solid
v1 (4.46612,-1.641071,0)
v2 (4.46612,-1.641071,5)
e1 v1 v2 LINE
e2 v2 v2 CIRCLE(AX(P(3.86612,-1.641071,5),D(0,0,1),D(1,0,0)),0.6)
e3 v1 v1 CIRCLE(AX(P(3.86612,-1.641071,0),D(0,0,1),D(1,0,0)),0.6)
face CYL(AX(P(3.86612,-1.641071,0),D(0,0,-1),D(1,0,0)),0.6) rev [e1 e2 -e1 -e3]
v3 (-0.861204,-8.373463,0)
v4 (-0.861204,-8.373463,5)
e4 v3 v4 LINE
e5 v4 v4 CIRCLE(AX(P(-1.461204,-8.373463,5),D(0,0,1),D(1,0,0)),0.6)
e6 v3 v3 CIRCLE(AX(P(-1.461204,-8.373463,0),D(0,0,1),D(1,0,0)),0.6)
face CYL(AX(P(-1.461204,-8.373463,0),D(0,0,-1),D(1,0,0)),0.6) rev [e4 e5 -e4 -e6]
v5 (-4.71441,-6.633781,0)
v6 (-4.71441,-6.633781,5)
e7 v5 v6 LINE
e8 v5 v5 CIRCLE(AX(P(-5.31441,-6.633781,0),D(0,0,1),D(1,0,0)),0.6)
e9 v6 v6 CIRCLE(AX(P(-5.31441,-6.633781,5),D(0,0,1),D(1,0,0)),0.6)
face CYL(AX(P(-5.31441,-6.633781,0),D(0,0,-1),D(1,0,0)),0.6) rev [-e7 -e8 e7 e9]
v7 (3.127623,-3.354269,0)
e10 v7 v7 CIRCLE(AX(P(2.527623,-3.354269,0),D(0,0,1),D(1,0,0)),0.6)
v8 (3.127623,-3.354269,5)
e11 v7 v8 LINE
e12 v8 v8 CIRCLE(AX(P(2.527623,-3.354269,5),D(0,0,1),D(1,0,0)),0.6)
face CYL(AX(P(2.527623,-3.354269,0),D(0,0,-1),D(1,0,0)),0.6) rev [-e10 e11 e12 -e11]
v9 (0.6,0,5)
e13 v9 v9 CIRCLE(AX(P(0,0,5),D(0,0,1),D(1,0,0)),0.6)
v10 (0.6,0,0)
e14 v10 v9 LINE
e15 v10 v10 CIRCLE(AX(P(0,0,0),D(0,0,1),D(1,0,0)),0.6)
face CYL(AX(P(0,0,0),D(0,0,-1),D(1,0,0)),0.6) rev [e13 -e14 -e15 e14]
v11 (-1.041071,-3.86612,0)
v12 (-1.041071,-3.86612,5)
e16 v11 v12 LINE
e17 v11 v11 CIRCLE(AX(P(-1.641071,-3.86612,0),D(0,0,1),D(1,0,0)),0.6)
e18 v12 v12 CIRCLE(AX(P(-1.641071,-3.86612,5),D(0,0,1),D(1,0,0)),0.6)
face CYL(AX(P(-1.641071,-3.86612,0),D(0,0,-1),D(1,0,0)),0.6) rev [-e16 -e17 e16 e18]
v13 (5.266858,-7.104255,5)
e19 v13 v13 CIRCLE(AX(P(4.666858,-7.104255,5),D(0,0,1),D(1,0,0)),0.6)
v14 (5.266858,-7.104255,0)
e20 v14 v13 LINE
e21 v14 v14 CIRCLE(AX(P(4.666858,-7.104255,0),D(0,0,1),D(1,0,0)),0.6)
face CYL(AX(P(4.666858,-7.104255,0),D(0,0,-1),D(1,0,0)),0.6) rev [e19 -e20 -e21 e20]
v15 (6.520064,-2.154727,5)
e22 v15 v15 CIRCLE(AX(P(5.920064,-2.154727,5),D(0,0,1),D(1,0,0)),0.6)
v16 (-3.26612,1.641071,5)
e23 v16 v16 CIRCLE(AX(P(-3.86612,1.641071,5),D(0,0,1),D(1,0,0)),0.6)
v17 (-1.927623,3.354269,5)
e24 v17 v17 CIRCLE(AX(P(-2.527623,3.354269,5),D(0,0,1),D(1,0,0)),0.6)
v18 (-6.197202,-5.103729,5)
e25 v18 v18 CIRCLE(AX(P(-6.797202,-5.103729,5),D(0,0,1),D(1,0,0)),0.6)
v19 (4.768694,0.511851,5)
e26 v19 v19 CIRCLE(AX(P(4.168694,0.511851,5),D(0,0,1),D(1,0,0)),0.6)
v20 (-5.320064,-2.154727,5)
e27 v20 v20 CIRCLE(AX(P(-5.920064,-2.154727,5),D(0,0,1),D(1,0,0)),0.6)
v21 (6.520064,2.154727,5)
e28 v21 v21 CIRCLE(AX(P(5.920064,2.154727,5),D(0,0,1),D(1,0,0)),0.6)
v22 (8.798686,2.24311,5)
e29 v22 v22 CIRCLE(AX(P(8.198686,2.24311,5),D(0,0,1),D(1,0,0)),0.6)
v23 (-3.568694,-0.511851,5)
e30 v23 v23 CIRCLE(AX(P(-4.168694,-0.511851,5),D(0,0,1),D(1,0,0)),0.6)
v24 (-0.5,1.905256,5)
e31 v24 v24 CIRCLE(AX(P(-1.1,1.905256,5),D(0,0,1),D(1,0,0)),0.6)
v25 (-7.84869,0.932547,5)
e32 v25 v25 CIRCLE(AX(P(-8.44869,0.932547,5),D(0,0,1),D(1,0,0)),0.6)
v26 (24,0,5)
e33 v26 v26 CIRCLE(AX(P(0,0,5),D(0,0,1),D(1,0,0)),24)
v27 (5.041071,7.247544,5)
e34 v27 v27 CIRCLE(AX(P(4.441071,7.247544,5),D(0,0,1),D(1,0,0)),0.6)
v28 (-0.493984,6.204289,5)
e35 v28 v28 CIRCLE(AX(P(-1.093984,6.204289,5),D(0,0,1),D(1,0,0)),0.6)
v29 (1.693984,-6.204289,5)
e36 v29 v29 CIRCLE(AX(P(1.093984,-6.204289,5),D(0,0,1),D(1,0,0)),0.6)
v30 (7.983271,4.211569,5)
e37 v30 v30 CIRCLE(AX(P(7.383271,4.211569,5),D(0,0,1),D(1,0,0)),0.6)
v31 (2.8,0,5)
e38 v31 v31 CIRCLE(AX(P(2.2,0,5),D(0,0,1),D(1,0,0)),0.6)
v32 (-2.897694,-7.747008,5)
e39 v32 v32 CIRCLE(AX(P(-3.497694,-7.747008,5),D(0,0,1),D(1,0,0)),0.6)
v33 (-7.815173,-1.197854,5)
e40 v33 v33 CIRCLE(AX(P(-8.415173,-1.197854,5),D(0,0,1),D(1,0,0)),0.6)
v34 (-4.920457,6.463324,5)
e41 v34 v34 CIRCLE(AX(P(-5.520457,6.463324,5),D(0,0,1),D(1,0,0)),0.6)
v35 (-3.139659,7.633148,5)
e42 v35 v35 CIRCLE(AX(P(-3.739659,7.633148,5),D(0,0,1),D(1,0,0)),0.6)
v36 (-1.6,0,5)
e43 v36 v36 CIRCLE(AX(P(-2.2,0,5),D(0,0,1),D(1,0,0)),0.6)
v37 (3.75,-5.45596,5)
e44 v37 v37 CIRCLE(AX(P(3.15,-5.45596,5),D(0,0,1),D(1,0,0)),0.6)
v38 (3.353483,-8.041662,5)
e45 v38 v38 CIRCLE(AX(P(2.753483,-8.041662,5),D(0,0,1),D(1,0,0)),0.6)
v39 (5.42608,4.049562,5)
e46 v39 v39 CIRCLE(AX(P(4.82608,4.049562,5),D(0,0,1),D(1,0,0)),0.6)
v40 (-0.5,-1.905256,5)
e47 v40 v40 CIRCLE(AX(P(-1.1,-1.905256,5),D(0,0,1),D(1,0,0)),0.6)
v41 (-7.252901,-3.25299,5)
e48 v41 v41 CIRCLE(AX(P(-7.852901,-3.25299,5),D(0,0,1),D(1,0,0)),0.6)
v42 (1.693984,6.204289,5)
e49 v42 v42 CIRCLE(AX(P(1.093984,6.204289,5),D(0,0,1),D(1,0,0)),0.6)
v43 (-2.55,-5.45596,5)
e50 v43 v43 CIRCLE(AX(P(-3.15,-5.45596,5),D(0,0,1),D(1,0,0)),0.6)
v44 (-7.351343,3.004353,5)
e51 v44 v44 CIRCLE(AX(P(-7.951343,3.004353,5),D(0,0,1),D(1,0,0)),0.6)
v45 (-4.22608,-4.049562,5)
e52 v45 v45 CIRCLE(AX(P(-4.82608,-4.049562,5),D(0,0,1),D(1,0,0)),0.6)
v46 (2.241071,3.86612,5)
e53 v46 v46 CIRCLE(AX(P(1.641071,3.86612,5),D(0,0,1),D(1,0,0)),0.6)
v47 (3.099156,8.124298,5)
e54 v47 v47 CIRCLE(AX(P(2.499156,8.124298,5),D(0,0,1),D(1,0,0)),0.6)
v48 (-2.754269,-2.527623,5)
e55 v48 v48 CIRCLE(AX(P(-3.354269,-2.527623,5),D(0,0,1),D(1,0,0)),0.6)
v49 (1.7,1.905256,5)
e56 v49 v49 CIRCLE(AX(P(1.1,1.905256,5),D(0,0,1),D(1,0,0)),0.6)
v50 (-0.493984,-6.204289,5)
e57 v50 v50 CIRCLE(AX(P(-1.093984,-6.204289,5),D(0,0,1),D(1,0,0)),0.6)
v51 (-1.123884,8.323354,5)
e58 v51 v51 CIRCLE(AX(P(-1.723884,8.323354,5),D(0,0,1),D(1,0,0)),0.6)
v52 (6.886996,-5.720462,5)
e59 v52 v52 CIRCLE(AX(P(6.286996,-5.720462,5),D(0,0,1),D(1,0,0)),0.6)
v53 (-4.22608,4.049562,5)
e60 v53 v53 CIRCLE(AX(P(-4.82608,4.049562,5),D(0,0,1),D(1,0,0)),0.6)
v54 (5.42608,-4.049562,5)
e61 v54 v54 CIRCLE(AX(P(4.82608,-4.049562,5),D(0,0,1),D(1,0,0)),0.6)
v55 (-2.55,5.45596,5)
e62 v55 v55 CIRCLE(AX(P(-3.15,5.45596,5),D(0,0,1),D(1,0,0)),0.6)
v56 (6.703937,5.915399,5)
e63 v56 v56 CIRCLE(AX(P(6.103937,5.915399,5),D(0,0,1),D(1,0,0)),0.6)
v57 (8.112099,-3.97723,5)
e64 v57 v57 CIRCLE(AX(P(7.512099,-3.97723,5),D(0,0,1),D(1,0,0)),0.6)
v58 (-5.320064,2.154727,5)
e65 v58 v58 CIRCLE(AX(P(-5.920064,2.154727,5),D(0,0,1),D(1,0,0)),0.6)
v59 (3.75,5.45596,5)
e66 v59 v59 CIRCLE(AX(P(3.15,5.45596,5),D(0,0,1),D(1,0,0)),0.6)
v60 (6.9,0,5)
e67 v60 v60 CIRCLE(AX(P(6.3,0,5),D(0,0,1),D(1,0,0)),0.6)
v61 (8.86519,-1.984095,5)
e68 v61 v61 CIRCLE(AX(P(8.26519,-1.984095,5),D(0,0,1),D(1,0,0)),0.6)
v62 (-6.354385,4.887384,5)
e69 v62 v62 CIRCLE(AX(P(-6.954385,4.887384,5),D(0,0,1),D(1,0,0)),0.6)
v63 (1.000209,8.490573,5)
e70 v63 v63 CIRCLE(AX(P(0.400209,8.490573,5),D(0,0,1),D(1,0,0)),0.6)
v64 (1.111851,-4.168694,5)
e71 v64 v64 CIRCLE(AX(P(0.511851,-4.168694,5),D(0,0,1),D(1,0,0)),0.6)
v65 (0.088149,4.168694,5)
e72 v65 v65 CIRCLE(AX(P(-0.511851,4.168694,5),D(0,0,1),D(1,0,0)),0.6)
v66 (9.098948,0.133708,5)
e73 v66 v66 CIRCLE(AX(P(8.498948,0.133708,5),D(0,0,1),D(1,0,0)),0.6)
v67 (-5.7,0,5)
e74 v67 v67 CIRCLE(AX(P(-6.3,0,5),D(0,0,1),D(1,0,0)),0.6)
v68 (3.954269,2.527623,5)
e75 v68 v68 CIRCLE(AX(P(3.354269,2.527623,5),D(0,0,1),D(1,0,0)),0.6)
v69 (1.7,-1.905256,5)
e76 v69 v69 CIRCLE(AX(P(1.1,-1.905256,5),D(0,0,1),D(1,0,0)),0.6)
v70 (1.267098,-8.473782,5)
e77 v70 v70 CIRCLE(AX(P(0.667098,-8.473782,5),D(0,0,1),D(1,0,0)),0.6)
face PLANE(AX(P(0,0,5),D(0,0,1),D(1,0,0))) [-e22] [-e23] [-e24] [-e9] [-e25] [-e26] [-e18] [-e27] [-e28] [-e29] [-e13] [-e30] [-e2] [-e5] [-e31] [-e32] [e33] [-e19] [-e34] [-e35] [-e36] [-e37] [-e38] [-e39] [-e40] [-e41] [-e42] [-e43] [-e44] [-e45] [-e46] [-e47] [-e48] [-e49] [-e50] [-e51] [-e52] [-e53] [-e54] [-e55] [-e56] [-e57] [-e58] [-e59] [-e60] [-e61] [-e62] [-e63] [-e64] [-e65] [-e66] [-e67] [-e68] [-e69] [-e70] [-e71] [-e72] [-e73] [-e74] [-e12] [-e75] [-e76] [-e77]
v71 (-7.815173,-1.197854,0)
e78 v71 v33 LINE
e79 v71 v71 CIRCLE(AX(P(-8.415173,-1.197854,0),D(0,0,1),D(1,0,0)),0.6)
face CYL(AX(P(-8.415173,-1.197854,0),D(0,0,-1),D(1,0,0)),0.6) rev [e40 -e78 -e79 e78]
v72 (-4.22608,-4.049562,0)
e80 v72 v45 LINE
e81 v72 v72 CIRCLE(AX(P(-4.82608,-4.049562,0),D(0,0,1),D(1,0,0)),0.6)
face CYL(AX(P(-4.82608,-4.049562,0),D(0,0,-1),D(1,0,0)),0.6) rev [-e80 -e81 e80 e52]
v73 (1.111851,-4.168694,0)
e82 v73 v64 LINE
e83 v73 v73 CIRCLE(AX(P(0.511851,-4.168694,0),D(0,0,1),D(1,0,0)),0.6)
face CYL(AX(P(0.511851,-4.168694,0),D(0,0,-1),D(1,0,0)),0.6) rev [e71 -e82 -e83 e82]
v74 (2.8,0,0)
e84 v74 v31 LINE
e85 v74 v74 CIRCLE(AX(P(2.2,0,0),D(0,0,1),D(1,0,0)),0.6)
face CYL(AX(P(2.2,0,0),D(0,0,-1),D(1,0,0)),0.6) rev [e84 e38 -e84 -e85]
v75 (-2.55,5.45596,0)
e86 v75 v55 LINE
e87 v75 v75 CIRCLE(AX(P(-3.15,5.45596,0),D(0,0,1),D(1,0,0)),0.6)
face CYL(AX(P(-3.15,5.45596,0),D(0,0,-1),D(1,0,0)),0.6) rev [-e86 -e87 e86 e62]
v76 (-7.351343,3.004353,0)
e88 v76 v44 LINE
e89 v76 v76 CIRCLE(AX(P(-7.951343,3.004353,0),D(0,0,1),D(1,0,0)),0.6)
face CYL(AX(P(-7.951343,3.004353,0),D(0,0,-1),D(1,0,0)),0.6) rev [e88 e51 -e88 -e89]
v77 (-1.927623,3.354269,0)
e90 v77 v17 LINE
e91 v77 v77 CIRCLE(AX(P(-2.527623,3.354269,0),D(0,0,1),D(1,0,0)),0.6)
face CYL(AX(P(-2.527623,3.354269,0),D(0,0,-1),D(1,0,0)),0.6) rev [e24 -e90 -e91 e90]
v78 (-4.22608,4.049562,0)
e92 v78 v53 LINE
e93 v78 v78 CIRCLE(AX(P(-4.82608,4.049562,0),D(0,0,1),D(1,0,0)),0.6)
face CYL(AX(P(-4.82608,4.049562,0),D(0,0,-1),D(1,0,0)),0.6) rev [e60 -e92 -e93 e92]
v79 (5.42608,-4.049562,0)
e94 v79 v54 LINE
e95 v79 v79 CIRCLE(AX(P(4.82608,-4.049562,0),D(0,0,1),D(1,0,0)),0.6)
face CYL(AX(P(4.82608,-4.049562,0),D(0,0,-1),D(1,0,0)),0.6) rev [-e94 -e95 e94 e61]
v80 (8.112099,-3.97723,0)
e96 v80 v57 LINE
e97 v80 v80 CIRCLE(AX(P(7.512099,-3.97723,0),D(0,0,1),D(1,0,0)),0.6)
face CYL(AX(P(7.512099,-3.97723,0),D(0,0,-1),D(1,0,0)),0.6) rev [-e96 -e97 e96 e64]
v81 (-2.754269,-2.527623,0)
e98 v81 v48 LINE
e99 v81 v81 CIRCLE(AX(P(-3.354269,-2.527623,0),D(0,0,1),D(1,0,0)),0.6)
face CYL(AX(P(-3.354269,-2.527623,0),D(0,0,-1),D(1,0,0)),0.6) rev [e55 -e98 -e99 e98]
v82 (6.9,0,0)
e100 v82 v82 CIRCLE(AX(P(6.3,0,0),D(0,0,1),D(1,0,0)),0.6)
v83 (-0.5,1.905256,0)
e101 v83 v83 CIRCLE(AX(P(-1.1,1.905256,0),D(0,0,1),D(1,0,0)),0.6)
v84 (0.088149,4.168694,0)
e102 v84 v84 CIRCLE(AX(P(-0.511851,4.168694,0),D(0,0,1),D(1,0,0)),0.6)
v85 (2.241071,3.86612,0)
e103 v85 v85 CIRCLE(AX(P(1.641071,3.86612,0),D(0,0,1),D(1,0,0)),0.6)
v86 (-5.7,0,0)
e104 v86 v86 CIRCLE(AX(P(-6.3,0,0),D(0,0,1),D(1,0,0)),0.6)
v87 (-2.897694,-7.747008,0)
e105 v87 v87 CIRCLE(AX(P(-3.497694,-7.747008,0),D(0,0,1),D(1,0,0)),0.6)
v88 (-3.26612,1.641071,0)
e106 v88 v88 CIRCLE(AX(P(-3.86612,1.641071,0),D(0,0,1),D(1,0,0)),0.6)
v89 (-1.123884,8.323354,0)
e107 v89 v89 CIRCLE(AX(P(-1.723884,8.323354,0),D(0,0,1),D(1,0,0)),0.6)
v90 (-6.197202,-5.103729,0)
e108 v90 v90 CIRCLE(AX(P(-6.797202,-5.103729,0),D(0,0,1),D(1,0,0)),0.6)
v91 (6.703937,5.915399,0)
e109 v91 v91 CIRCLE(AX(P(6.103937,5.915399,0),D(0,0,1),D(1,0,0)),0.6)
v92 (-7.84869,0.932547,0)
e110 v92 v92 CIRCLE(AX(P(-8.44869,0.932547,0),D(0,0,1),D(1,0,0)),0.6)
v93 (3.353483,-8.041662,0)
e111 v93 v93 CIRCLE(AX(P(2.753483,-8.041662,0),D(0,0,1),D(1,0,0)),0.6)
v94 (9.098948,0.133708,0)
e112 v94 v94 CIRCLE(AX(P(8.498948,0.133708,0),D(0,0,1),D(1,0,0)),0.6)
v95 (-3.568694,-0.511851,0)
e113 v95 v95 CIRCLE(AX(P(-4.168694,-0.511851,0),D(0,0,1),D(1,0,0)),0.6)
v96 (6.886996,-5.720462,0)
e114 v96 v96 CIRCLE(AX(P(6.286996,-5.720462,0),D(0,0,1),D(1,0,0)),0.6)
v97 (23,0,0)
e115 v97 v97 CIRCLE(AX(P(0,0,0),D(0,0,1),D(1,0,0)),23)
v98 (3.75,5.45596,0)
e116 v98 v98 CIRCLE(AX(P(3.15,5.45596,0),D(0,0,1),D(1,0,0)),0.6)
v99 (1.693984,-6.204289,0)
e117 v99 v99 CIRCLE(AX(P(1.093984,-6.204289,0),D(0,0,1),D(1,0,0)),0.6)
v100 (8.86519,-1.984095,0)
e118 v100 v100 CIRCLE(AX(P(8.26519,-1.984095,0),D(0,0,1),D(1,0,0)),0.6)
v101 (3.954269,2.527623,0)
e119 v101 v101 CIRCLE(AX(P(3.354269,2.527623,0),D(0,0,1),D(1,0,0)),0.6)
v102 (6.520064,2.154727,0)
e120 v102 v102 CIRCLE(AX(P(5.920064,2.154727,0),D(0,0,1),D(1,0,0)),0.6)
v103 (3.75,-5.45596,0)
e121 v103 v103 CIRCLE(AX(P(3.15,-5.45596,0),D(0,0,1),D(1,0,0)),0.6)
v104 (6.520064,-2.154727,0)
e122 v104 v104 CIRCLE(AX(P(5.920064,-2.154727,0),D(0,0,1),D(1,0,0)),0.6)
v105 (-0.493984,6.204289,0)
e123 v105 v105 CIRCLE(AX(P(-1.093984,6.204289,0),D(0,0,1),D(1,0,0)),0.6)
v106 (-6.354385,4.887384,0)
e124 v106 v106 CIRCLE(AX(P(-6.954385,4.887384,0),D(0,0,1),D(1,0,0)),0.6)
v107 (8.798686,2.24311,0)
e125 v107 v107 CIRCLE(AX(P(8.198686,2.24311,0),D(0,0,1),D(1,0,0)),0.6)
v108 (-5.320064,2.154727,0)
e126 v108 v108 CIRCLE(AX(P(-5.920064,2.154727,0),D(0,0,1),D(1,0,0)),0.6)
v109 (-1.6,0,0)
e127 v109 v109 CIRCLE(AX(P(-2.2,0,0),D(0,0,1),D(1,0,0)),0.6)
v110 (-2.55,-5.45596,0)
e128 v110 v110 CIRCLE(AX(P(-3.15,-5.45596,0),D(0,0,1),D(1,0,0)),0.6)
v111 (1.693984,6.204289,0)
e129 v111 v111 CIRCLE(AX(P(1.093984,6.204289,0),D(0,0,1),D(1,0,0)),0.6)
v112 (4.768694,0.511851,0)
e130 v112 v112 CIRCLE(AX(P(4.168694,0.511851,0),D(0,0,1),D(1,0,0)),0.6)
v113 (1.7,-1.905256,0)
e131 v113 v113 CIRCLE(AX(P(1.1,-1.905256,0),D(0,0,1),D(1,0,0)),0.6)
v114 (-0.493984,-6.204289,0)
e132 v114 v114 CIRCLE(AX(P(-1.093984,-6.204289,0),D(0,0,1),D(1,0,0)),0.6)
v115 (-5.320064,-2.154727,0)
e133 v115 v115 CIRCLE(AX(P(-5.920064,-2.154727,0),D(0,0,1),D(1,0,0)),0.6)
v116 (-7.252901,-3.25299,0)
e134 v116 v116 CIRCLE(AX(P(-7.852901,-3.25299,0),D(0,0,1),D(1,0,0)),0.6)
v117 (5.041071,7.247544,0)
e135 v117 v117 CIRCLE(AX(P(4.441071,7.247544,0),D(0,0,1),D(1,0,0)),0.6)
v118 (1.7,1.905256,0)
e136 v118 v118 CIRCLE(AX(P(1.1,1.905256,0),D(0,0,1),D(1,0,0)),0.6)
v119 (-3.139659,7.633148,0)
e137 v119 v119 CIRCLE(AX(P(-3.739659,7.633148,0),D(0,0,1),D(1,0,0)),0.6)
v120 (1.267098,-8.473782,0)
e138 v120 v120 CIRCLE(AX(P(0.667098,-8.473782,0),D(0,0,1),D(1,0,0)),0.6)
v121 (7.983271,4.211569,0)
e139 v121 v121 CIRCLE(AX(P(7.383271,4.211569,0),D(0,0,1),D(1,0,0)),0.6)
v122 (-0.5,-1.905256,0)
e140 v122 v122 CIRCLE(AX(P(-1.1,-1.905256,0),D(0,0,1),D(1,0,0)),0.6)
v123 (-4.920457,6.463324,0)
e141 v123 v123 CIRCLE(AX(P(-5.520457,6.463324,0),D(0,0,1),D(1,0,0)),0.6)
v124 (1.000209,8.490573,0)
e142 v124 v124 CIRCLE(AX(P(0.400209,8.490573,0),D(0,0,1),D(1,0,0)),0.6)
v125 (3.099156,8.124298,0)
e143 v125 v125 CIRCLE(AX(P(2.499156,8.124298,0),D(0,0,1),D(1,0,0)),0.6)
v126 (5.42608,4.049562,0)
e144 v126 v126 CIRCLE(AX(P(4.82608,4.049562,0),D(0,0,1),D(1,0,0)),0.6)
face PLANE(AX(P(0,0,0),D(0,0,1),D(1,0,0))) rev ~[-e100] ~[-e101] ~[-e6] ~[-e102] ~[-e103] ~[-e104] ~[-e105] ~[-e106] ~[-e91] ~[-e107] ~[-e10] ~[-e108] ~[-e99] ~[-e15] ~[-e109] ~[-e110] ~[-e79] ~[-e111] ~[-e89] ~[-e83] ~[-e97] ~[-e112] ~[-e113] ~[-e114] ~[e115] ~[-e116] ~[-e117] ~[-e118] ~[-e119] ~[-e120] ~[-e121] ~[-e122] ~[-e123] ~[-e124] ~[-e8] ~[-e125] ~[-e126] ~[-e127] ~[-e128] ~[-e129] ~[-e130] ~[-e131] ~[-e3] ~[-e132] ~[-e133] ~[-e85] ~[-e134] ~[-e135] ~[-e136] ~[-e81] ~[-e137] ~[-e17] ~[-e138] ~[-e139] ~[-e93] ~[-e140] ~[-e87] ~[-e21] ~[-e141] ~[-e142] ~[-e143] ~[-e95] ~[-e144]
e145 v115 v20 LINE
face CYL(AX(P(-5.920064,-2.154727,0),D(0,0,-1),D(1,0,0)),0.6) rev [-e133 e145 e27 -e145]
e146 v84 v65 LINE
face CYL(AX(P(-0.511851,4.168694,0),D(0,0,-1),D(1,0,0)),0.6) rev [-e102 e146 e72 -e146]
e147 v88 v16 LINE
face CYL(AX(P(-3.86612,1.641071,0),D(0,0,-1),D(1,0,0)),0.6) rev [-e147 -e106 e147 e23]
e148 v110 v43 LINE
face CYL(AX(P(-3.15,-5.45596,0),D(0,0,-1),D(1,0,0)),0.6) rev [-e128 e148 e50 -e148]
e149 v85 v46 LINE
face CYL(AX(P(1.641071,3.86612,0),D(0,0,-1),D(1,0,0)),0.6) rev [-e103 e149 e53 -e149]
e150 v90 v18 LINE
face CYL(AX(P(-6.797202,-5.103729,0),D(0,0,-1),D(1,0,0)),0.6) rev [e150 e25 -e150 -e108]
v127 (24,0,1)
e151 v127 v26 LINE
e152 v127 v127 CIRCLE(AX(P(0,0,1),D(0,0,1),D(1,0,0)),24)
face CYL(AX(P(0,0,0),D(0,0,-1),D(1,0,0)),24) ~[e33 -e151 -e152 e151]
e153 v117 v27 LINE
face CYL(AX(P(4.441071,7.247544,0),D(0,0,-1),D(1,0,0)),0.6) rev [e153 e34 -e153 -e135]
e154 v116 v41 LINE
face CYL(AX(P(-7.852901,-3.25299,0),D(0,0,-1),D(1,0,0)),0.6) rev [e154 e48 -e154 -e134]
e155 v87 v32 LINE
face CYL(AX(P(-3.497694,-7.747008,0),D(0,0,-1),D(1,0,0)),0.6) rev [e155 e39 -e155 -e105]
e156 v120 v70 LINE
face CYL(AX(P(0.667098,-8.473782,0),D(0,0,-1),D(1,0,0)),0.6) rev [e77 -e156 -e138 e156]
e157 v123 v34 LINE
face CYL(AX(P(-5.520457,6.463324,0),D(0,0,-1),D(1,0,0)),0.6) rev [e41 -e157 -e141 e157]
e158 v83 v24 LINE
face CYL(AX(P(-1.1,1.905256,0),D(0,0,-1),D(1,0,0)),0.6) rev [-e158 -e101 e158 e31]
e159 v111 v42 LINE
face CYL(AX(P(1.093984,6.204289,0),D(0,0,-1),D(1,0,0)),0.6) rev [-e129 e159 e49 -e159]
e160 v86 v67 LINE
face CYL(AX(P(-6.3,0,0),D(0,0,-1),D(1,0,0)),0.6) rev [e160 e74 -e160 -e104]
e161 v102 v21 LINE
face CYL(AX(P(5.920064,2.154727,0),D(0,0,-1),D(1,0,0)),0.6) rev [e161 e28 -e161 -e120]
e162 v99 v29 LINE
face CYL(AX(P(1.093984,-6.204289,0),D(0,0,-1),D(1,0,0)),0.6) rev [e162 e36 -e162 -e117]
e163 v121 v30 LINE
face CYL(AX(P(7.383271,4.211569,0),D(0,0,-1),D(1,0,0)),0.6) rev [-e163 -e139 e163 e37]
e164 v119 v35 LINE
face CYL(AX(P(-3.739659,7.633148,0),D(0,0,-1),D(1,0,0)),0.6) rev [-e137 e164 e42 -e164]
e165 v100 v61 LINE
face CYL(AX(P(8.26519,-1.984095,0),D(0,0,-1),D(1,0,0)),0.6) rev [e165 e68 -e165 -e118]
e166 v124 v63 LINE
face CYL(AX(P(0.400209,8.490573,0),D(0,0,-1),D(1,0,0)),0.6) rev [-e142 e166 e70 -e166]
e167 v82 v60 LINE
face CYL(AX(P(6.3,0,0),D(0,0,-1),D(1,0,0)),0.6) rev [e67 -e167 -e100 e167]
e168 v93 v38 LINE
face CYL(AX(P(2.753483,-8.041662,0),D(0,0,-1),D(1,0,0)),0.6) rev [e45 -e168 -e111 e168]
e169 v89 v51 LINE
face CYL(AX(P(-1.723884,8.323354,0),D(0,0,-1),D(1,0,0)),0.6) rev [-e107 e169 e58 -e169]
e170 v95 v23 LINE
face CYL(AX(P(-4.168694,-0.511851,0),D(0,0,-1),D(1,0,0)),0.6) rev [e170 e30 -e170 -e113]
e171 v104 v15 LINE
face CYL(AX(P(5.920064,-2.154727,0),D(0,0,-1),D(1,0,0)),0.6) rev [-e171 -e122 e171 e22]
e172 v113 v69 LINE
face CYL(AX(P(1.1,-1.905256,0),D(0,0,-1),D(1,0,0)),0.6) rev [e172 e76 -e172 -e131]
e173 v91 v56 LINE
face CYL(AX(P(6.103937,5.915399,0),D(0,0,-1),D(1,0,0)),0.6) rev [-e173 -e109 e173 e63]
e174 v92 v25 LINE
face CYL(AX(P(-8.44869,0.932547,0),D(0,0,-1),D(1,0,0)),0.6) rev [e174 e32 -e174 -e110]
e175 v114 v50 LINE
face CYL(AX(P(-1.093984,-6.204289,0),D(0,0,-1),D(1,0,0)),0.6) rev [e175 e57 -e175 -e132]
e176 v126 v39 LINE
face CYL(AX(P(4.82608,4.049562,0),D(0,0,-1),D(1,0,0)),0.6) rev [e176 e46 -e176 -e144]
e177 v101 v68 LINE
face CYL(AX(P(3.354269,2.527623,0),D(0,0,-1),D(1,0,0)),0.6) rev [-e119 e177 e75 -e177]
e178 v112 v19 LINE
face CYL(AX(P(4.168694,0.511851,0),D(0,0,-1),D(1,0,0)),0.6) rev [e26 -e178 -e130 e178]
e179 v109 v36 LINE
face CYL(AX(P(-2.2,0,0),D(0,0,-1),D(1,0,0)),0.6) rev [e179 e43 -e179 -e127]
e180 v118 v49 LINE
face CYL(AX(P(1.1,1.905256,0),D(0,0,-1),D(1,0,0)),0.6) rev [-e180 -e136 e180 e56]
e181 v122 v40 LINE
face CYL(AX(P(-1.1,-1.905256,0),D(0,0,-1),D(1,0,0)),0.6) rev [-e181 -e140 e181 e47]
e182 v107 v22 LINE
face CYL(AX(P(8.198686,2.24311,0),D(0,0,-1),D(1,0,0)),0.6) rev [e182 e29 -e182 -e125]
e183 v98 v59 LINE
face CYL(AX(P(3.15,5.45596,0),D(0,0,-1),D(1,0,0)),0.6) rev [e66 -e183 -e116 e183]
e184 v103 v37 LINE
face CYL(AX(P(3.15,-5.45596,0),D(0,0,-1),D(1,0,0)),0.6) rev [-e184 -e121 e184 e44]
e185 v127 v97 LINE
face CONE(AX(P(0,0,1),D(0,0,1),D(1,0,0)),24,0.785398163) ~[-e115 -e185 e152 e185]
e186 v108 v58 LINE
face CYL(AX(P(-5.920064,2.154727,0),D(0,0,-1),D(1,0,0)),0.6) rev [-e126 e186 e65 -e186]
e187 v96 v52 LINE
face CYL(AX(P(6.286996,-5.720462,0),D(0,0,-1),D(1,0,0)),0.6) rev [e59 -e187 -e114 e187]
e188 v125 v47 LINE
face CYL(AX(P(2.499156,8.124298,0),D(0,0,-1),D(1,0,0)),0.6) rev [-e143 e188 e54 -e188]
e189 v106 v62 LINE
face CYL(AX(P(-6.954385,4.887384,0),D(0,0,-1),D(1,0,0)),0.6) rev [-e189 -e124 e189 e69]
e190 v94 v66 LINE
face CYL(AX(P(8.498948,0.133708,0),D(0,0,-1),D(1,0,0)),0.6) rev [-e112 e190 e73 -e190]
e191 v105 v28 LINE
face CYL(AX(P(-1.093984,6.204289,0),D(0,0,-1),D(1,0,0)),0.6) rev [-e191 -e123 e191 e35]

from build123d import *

# Parameters (mm, degrees)
SCHIZZO1_R                   = 24
SCHIZZO1_R_2                 = 0.6
ESTRUSIONE_ESTRUSIONE1_DEPTH = 5
SMUSSO1_SIZE                 = 1


with BuildPart() as part:
    # Schizzo1 → Estrusione-Estrusione1 (new body)
    with BuildSketch(Plane.XY):
        Circle(SCHIZZO1_R)
        with Locations((-2.2, 0)):
            Circle(SCHIZZO1_R_2, mode=Mode.SUBTRACT)
        Circle(SCHIZZO1_R_2, mode=Mode.SUBTRACT)
        with Locations((-3.866120385, 1.64107074)):
            Circle(SCHIZZO1_R_2, mode=Mode.SUBTRACT)
        with Locations((-1.1, 1.905255888)):
            Circle(SCHIZZO1_R_2, mode=Mode.SUBTRACT)
        with Locations((1.1, 1.905255888)):
            Circle(SCHIZZO1_R_2, mode=Mode.SUBTRACT)
        with Locations((2.2, 0)):
            Circle(SCHIZZO1_R_2, mode=Mode.SUBTRACT)
        with Locations((1.1, -1.905255888)):
            Circle(SCHIZZO1_R_2, mode=Mode.SUBTRACT)
        with Locations((-1.1, -1.905255888)):
            Circle(SCHIZZO1_R_2, mode=Mode.SUBTRACT)
        with Locations((-2.527623097, 3.354269142)):
            Circle(SCHIZZO1_R_2, mode=Mode.SUBTRACT)
        with Locations((-0.511851242, 4.168693837)):
            Circle(SCHIZZO1_R_2, mode=Mode.SUBTRACT)
        with Locations((1.64107074, 3.866120385)):
            Circle(SCHIZZO1_R_2, mode=Mode.SUBTRACT)
        with Locations((3.354269142, 2.527623097)):
            Circle(SCHIZZO1_R_2, mode=Mode.SUBTRACT)
        with Locations((4.168693837, 0.511851242)):
            Circle(SCHIZZO1_R_2, mode=Mode.SUBTRACT)
        with Locations((3.866120385, -1.64107074)):
            Circle(SCHIZZO1_R_2, mode=Mode.SUBTRACT)
        with Locations((2.527623097, -3.354269142)):
            Circle(SCHIZZO1_R_2, mode=Mode.SUBTRACT)
        with Locations((0.511851242, -4.168693837)):
            Circle(SCHIZZO1_R_2, mode=Mode.SUBTRACT)
        with Locations((-1.64107074, -3.866120385)):
            Circle(SCHIZZO1_R_2, mode=Mode.SUBTRACT)
        with Locations((-3.354269142, -2.527623097)):
            Circle(SCHIZZO1_R_2, mode=Mode.SUBTRACT)
        with Locations((-4.168693837, -0.511851242)):
            Circle(SCHIZZO1_R_2, mode=Mode.SUBTRACT)
        with Locations((-6.3, 0)):
            Circle(SCHIZZO1_R_2, mode=Mode.SUBTRACT)
        with Locations((-5.920063511, 2.154726903)):
            Circle(SCHIZZO1_R_2, mode=Mode.SUBTRACT)
        with Locations((-4.826079992, 4.049561941)):
            Circle(SCHIZZO1_R_2, mode=Mode.SUBTRACT)
        with Locations((-3.15, 5.455960044)):
            Circle(SCHIZZO1_R_2, mode=Mode.SUBTRACT)
        with Locations((-1.093983519, 6.204288844)):
            Circle(SCHIZZO1_R_2, mode=Mode.SUBTRACT)
        with Locations((1.093983519, 6.204288844)):
            Circle(SCHIZZO1_R_2, mode=Mode.SUBTRACT)
        with Locations((3.15, 5.455960044)):
            Circle(SCHIZZO1_R_2, mode=Mode.SUBTRACT)
        with Locations((4.826079992, 4.049561941)):
            Circle(SCHIZZO1_R_2, mode=Mode.SUBTRACT)
        with Locations((5.920063511, 2.154726903)):
            Circle(SCHIZZO1_R_2, mode=Mode.SUBTRACT)
        with Locations((6.3, 0)):
            Circle(SCHIZZO1_R_2, mode=Mode.SUBTRACT)
        with Locations((5.920063511, -2.154726903)):
            Circle(SCHIZZO1_R_2, mode=Mode.SUBTRACT)
        with Locations((4.826079992, -4.049561941)):
            Circle(SCHIZZO1_R_2, mode=Mode.SUBTRACT)
        with Locations((3.15, -5.455960044)):
            Circle(SCHIZZO1_R_2, mode=Mode.SUBTRACT)
        with Locations((1.093983519, -6.204288844)):
            Circle(SCHIZZO1_R_2, mode=Mode.SUBTRACT)
        with Locations((-1.093983519, -6.204288844)):
            Circle(SCHIZZO1_R_2, mode=Mode.SUBTRACT)
        with Locations((-3.15, -5.455960044)):
            Circle(SCHIZZO1_R_2, mode=Mode.SUBTRACT)
        with Locations((-4.826079992, -4.049561941)):
            Circle(SCHIZZO1_R_2, mode=Mode.SUBTRACT)
        with Locations((-5.920063511, -2.154726903)):
            Circle(SCHIZZO1_R_2, mode=Mode.SUBTRACT)
        with Locations((-8.448689608, 0.932547001)):
            Circle(SCHIZZO1_R_2, mode=Mode.SUBTRACT)
        with Locations((-7.951343479, 3.004352988)):
            Circle(SCHIZZO1_R_2, mode=Mode.SUBTRACT)
        with Locations((-6.954385197, 4.887384427)):
            Circle(SCHIZZO1_R_2, mode=Mode.SUBTRACT)
        with Locations((-5.520457316, 6.463323528)):
            Circle(SCHIZZO1_R_2, mode=Mode.SUBTRACT)
        with Locations((-3.739658799, 7.633148241)):
            Circle(SCHIZZO1_R_2, mode=Mode.SUBTRACT)
        with Locations((-1.723883767, 8.323354177)):
            Circle(SCHIZZO1_R_2, mode=Mode.SUBTRACT)
        with Locations((0.400209223, 8.49057316)):
            Circle(SCHIZZO1_R_2, mode=Mode.SUBTRACT)
        with Locations((2.499155596, 8.124298204)):
            Circle(SCHIZZO1_R_2, mode=Mode.SUBTRACT)
        with Locations((4.441070831, 7.247543713)):
            Circle(SCHIZZO1_R_2, mode=Mode.SUBTRACT)
        with Locations((6.103937252, 5.915399397)):
            Circle(SCHIZZO1_R_2, mode=Mode.SUBTRACT)
        with Locations((7.383270847, 4.21156878)):
            Circle(SCHIZZO1_R_2, mode=Mode.SUBTRACT)
        with Locations((8.198686382, 2.243109809)):
            Circle(SCHIZZO1_R_2, mode=Mode.SUBTRACT)
        with Locations((8.498948298, 0.133707998)):
            Circle(SCHIZZO1_R_2, mode=Mode.SUBTRACT)
        with Locations((8.265190036, -1.984095178)):
            Circle(SCHIZZO1_R_2, mode=Mode.SUBTRACT)
        with Locations((7.512099486, -3.977230357)):
            Circle(SCHIZZO1_R_2, mode=Mode.SUBTRACT)
        with Locations((6.286996098, -5.720461525)):
            Circle(SCHIZZO1_R_2, mode=Mode.SUBTRACT)
        with Locations((4.666857624, -7.104255057)):
            Circle(SCHIZZO1_R_2, mode=Mode.SUBTRACT)
        with Locations((2.753483321, -8.041662117)):
            Circle(SCHIZZO1_R_2, mode=Mode.SUBTRACT)
        with Locations((0.667097535, -8.47378197)):
            Circle(SCHIZZO1_R_2, mode=Mode.SUBTRACT)
        with Locations((-1.461204443, -8.373462938)):
            Circle(SCHIZZO1_R_2, mode=Mode.SUBTRACT)
        with Locations((-3.497693572, -7.747008434)):
            Circle(SCHIZZO1_R_2, mode=Mode.SUBTRACT)
        with Locations((-5.31440975, -6.633780899)):
            Circle(SCHIZZO1_R_2, mode=Mode.SUBTRACT)
        with Locations((-6.797202018, -5.103728512)):
            Circle(SCHIZZO1_R_2, mode=Mode.SUBTRACT)
        with Locations((-7.852901085, -3.252990093)):
            Circle(SCHIZZO1_R_2, mode=Mode.SUBTRACT)
        with Locations((-8.415173496, -1.197854343)):
            Circle(SCHIZZO1_R_2, mode=Mode.SUBTRACT)
    extrude(amount=ESTRUSIONE_ESTRUSIONE1_DEPTH)

    # Smusso1
    smusso1_edges = [part.edges().sort_by_distance(p)[0] for p in [
        (-24, 0, 0),
    ]]
    chamfer(smusso1_edges, length=SMUSSO1_SIZE)


solid = part.part
